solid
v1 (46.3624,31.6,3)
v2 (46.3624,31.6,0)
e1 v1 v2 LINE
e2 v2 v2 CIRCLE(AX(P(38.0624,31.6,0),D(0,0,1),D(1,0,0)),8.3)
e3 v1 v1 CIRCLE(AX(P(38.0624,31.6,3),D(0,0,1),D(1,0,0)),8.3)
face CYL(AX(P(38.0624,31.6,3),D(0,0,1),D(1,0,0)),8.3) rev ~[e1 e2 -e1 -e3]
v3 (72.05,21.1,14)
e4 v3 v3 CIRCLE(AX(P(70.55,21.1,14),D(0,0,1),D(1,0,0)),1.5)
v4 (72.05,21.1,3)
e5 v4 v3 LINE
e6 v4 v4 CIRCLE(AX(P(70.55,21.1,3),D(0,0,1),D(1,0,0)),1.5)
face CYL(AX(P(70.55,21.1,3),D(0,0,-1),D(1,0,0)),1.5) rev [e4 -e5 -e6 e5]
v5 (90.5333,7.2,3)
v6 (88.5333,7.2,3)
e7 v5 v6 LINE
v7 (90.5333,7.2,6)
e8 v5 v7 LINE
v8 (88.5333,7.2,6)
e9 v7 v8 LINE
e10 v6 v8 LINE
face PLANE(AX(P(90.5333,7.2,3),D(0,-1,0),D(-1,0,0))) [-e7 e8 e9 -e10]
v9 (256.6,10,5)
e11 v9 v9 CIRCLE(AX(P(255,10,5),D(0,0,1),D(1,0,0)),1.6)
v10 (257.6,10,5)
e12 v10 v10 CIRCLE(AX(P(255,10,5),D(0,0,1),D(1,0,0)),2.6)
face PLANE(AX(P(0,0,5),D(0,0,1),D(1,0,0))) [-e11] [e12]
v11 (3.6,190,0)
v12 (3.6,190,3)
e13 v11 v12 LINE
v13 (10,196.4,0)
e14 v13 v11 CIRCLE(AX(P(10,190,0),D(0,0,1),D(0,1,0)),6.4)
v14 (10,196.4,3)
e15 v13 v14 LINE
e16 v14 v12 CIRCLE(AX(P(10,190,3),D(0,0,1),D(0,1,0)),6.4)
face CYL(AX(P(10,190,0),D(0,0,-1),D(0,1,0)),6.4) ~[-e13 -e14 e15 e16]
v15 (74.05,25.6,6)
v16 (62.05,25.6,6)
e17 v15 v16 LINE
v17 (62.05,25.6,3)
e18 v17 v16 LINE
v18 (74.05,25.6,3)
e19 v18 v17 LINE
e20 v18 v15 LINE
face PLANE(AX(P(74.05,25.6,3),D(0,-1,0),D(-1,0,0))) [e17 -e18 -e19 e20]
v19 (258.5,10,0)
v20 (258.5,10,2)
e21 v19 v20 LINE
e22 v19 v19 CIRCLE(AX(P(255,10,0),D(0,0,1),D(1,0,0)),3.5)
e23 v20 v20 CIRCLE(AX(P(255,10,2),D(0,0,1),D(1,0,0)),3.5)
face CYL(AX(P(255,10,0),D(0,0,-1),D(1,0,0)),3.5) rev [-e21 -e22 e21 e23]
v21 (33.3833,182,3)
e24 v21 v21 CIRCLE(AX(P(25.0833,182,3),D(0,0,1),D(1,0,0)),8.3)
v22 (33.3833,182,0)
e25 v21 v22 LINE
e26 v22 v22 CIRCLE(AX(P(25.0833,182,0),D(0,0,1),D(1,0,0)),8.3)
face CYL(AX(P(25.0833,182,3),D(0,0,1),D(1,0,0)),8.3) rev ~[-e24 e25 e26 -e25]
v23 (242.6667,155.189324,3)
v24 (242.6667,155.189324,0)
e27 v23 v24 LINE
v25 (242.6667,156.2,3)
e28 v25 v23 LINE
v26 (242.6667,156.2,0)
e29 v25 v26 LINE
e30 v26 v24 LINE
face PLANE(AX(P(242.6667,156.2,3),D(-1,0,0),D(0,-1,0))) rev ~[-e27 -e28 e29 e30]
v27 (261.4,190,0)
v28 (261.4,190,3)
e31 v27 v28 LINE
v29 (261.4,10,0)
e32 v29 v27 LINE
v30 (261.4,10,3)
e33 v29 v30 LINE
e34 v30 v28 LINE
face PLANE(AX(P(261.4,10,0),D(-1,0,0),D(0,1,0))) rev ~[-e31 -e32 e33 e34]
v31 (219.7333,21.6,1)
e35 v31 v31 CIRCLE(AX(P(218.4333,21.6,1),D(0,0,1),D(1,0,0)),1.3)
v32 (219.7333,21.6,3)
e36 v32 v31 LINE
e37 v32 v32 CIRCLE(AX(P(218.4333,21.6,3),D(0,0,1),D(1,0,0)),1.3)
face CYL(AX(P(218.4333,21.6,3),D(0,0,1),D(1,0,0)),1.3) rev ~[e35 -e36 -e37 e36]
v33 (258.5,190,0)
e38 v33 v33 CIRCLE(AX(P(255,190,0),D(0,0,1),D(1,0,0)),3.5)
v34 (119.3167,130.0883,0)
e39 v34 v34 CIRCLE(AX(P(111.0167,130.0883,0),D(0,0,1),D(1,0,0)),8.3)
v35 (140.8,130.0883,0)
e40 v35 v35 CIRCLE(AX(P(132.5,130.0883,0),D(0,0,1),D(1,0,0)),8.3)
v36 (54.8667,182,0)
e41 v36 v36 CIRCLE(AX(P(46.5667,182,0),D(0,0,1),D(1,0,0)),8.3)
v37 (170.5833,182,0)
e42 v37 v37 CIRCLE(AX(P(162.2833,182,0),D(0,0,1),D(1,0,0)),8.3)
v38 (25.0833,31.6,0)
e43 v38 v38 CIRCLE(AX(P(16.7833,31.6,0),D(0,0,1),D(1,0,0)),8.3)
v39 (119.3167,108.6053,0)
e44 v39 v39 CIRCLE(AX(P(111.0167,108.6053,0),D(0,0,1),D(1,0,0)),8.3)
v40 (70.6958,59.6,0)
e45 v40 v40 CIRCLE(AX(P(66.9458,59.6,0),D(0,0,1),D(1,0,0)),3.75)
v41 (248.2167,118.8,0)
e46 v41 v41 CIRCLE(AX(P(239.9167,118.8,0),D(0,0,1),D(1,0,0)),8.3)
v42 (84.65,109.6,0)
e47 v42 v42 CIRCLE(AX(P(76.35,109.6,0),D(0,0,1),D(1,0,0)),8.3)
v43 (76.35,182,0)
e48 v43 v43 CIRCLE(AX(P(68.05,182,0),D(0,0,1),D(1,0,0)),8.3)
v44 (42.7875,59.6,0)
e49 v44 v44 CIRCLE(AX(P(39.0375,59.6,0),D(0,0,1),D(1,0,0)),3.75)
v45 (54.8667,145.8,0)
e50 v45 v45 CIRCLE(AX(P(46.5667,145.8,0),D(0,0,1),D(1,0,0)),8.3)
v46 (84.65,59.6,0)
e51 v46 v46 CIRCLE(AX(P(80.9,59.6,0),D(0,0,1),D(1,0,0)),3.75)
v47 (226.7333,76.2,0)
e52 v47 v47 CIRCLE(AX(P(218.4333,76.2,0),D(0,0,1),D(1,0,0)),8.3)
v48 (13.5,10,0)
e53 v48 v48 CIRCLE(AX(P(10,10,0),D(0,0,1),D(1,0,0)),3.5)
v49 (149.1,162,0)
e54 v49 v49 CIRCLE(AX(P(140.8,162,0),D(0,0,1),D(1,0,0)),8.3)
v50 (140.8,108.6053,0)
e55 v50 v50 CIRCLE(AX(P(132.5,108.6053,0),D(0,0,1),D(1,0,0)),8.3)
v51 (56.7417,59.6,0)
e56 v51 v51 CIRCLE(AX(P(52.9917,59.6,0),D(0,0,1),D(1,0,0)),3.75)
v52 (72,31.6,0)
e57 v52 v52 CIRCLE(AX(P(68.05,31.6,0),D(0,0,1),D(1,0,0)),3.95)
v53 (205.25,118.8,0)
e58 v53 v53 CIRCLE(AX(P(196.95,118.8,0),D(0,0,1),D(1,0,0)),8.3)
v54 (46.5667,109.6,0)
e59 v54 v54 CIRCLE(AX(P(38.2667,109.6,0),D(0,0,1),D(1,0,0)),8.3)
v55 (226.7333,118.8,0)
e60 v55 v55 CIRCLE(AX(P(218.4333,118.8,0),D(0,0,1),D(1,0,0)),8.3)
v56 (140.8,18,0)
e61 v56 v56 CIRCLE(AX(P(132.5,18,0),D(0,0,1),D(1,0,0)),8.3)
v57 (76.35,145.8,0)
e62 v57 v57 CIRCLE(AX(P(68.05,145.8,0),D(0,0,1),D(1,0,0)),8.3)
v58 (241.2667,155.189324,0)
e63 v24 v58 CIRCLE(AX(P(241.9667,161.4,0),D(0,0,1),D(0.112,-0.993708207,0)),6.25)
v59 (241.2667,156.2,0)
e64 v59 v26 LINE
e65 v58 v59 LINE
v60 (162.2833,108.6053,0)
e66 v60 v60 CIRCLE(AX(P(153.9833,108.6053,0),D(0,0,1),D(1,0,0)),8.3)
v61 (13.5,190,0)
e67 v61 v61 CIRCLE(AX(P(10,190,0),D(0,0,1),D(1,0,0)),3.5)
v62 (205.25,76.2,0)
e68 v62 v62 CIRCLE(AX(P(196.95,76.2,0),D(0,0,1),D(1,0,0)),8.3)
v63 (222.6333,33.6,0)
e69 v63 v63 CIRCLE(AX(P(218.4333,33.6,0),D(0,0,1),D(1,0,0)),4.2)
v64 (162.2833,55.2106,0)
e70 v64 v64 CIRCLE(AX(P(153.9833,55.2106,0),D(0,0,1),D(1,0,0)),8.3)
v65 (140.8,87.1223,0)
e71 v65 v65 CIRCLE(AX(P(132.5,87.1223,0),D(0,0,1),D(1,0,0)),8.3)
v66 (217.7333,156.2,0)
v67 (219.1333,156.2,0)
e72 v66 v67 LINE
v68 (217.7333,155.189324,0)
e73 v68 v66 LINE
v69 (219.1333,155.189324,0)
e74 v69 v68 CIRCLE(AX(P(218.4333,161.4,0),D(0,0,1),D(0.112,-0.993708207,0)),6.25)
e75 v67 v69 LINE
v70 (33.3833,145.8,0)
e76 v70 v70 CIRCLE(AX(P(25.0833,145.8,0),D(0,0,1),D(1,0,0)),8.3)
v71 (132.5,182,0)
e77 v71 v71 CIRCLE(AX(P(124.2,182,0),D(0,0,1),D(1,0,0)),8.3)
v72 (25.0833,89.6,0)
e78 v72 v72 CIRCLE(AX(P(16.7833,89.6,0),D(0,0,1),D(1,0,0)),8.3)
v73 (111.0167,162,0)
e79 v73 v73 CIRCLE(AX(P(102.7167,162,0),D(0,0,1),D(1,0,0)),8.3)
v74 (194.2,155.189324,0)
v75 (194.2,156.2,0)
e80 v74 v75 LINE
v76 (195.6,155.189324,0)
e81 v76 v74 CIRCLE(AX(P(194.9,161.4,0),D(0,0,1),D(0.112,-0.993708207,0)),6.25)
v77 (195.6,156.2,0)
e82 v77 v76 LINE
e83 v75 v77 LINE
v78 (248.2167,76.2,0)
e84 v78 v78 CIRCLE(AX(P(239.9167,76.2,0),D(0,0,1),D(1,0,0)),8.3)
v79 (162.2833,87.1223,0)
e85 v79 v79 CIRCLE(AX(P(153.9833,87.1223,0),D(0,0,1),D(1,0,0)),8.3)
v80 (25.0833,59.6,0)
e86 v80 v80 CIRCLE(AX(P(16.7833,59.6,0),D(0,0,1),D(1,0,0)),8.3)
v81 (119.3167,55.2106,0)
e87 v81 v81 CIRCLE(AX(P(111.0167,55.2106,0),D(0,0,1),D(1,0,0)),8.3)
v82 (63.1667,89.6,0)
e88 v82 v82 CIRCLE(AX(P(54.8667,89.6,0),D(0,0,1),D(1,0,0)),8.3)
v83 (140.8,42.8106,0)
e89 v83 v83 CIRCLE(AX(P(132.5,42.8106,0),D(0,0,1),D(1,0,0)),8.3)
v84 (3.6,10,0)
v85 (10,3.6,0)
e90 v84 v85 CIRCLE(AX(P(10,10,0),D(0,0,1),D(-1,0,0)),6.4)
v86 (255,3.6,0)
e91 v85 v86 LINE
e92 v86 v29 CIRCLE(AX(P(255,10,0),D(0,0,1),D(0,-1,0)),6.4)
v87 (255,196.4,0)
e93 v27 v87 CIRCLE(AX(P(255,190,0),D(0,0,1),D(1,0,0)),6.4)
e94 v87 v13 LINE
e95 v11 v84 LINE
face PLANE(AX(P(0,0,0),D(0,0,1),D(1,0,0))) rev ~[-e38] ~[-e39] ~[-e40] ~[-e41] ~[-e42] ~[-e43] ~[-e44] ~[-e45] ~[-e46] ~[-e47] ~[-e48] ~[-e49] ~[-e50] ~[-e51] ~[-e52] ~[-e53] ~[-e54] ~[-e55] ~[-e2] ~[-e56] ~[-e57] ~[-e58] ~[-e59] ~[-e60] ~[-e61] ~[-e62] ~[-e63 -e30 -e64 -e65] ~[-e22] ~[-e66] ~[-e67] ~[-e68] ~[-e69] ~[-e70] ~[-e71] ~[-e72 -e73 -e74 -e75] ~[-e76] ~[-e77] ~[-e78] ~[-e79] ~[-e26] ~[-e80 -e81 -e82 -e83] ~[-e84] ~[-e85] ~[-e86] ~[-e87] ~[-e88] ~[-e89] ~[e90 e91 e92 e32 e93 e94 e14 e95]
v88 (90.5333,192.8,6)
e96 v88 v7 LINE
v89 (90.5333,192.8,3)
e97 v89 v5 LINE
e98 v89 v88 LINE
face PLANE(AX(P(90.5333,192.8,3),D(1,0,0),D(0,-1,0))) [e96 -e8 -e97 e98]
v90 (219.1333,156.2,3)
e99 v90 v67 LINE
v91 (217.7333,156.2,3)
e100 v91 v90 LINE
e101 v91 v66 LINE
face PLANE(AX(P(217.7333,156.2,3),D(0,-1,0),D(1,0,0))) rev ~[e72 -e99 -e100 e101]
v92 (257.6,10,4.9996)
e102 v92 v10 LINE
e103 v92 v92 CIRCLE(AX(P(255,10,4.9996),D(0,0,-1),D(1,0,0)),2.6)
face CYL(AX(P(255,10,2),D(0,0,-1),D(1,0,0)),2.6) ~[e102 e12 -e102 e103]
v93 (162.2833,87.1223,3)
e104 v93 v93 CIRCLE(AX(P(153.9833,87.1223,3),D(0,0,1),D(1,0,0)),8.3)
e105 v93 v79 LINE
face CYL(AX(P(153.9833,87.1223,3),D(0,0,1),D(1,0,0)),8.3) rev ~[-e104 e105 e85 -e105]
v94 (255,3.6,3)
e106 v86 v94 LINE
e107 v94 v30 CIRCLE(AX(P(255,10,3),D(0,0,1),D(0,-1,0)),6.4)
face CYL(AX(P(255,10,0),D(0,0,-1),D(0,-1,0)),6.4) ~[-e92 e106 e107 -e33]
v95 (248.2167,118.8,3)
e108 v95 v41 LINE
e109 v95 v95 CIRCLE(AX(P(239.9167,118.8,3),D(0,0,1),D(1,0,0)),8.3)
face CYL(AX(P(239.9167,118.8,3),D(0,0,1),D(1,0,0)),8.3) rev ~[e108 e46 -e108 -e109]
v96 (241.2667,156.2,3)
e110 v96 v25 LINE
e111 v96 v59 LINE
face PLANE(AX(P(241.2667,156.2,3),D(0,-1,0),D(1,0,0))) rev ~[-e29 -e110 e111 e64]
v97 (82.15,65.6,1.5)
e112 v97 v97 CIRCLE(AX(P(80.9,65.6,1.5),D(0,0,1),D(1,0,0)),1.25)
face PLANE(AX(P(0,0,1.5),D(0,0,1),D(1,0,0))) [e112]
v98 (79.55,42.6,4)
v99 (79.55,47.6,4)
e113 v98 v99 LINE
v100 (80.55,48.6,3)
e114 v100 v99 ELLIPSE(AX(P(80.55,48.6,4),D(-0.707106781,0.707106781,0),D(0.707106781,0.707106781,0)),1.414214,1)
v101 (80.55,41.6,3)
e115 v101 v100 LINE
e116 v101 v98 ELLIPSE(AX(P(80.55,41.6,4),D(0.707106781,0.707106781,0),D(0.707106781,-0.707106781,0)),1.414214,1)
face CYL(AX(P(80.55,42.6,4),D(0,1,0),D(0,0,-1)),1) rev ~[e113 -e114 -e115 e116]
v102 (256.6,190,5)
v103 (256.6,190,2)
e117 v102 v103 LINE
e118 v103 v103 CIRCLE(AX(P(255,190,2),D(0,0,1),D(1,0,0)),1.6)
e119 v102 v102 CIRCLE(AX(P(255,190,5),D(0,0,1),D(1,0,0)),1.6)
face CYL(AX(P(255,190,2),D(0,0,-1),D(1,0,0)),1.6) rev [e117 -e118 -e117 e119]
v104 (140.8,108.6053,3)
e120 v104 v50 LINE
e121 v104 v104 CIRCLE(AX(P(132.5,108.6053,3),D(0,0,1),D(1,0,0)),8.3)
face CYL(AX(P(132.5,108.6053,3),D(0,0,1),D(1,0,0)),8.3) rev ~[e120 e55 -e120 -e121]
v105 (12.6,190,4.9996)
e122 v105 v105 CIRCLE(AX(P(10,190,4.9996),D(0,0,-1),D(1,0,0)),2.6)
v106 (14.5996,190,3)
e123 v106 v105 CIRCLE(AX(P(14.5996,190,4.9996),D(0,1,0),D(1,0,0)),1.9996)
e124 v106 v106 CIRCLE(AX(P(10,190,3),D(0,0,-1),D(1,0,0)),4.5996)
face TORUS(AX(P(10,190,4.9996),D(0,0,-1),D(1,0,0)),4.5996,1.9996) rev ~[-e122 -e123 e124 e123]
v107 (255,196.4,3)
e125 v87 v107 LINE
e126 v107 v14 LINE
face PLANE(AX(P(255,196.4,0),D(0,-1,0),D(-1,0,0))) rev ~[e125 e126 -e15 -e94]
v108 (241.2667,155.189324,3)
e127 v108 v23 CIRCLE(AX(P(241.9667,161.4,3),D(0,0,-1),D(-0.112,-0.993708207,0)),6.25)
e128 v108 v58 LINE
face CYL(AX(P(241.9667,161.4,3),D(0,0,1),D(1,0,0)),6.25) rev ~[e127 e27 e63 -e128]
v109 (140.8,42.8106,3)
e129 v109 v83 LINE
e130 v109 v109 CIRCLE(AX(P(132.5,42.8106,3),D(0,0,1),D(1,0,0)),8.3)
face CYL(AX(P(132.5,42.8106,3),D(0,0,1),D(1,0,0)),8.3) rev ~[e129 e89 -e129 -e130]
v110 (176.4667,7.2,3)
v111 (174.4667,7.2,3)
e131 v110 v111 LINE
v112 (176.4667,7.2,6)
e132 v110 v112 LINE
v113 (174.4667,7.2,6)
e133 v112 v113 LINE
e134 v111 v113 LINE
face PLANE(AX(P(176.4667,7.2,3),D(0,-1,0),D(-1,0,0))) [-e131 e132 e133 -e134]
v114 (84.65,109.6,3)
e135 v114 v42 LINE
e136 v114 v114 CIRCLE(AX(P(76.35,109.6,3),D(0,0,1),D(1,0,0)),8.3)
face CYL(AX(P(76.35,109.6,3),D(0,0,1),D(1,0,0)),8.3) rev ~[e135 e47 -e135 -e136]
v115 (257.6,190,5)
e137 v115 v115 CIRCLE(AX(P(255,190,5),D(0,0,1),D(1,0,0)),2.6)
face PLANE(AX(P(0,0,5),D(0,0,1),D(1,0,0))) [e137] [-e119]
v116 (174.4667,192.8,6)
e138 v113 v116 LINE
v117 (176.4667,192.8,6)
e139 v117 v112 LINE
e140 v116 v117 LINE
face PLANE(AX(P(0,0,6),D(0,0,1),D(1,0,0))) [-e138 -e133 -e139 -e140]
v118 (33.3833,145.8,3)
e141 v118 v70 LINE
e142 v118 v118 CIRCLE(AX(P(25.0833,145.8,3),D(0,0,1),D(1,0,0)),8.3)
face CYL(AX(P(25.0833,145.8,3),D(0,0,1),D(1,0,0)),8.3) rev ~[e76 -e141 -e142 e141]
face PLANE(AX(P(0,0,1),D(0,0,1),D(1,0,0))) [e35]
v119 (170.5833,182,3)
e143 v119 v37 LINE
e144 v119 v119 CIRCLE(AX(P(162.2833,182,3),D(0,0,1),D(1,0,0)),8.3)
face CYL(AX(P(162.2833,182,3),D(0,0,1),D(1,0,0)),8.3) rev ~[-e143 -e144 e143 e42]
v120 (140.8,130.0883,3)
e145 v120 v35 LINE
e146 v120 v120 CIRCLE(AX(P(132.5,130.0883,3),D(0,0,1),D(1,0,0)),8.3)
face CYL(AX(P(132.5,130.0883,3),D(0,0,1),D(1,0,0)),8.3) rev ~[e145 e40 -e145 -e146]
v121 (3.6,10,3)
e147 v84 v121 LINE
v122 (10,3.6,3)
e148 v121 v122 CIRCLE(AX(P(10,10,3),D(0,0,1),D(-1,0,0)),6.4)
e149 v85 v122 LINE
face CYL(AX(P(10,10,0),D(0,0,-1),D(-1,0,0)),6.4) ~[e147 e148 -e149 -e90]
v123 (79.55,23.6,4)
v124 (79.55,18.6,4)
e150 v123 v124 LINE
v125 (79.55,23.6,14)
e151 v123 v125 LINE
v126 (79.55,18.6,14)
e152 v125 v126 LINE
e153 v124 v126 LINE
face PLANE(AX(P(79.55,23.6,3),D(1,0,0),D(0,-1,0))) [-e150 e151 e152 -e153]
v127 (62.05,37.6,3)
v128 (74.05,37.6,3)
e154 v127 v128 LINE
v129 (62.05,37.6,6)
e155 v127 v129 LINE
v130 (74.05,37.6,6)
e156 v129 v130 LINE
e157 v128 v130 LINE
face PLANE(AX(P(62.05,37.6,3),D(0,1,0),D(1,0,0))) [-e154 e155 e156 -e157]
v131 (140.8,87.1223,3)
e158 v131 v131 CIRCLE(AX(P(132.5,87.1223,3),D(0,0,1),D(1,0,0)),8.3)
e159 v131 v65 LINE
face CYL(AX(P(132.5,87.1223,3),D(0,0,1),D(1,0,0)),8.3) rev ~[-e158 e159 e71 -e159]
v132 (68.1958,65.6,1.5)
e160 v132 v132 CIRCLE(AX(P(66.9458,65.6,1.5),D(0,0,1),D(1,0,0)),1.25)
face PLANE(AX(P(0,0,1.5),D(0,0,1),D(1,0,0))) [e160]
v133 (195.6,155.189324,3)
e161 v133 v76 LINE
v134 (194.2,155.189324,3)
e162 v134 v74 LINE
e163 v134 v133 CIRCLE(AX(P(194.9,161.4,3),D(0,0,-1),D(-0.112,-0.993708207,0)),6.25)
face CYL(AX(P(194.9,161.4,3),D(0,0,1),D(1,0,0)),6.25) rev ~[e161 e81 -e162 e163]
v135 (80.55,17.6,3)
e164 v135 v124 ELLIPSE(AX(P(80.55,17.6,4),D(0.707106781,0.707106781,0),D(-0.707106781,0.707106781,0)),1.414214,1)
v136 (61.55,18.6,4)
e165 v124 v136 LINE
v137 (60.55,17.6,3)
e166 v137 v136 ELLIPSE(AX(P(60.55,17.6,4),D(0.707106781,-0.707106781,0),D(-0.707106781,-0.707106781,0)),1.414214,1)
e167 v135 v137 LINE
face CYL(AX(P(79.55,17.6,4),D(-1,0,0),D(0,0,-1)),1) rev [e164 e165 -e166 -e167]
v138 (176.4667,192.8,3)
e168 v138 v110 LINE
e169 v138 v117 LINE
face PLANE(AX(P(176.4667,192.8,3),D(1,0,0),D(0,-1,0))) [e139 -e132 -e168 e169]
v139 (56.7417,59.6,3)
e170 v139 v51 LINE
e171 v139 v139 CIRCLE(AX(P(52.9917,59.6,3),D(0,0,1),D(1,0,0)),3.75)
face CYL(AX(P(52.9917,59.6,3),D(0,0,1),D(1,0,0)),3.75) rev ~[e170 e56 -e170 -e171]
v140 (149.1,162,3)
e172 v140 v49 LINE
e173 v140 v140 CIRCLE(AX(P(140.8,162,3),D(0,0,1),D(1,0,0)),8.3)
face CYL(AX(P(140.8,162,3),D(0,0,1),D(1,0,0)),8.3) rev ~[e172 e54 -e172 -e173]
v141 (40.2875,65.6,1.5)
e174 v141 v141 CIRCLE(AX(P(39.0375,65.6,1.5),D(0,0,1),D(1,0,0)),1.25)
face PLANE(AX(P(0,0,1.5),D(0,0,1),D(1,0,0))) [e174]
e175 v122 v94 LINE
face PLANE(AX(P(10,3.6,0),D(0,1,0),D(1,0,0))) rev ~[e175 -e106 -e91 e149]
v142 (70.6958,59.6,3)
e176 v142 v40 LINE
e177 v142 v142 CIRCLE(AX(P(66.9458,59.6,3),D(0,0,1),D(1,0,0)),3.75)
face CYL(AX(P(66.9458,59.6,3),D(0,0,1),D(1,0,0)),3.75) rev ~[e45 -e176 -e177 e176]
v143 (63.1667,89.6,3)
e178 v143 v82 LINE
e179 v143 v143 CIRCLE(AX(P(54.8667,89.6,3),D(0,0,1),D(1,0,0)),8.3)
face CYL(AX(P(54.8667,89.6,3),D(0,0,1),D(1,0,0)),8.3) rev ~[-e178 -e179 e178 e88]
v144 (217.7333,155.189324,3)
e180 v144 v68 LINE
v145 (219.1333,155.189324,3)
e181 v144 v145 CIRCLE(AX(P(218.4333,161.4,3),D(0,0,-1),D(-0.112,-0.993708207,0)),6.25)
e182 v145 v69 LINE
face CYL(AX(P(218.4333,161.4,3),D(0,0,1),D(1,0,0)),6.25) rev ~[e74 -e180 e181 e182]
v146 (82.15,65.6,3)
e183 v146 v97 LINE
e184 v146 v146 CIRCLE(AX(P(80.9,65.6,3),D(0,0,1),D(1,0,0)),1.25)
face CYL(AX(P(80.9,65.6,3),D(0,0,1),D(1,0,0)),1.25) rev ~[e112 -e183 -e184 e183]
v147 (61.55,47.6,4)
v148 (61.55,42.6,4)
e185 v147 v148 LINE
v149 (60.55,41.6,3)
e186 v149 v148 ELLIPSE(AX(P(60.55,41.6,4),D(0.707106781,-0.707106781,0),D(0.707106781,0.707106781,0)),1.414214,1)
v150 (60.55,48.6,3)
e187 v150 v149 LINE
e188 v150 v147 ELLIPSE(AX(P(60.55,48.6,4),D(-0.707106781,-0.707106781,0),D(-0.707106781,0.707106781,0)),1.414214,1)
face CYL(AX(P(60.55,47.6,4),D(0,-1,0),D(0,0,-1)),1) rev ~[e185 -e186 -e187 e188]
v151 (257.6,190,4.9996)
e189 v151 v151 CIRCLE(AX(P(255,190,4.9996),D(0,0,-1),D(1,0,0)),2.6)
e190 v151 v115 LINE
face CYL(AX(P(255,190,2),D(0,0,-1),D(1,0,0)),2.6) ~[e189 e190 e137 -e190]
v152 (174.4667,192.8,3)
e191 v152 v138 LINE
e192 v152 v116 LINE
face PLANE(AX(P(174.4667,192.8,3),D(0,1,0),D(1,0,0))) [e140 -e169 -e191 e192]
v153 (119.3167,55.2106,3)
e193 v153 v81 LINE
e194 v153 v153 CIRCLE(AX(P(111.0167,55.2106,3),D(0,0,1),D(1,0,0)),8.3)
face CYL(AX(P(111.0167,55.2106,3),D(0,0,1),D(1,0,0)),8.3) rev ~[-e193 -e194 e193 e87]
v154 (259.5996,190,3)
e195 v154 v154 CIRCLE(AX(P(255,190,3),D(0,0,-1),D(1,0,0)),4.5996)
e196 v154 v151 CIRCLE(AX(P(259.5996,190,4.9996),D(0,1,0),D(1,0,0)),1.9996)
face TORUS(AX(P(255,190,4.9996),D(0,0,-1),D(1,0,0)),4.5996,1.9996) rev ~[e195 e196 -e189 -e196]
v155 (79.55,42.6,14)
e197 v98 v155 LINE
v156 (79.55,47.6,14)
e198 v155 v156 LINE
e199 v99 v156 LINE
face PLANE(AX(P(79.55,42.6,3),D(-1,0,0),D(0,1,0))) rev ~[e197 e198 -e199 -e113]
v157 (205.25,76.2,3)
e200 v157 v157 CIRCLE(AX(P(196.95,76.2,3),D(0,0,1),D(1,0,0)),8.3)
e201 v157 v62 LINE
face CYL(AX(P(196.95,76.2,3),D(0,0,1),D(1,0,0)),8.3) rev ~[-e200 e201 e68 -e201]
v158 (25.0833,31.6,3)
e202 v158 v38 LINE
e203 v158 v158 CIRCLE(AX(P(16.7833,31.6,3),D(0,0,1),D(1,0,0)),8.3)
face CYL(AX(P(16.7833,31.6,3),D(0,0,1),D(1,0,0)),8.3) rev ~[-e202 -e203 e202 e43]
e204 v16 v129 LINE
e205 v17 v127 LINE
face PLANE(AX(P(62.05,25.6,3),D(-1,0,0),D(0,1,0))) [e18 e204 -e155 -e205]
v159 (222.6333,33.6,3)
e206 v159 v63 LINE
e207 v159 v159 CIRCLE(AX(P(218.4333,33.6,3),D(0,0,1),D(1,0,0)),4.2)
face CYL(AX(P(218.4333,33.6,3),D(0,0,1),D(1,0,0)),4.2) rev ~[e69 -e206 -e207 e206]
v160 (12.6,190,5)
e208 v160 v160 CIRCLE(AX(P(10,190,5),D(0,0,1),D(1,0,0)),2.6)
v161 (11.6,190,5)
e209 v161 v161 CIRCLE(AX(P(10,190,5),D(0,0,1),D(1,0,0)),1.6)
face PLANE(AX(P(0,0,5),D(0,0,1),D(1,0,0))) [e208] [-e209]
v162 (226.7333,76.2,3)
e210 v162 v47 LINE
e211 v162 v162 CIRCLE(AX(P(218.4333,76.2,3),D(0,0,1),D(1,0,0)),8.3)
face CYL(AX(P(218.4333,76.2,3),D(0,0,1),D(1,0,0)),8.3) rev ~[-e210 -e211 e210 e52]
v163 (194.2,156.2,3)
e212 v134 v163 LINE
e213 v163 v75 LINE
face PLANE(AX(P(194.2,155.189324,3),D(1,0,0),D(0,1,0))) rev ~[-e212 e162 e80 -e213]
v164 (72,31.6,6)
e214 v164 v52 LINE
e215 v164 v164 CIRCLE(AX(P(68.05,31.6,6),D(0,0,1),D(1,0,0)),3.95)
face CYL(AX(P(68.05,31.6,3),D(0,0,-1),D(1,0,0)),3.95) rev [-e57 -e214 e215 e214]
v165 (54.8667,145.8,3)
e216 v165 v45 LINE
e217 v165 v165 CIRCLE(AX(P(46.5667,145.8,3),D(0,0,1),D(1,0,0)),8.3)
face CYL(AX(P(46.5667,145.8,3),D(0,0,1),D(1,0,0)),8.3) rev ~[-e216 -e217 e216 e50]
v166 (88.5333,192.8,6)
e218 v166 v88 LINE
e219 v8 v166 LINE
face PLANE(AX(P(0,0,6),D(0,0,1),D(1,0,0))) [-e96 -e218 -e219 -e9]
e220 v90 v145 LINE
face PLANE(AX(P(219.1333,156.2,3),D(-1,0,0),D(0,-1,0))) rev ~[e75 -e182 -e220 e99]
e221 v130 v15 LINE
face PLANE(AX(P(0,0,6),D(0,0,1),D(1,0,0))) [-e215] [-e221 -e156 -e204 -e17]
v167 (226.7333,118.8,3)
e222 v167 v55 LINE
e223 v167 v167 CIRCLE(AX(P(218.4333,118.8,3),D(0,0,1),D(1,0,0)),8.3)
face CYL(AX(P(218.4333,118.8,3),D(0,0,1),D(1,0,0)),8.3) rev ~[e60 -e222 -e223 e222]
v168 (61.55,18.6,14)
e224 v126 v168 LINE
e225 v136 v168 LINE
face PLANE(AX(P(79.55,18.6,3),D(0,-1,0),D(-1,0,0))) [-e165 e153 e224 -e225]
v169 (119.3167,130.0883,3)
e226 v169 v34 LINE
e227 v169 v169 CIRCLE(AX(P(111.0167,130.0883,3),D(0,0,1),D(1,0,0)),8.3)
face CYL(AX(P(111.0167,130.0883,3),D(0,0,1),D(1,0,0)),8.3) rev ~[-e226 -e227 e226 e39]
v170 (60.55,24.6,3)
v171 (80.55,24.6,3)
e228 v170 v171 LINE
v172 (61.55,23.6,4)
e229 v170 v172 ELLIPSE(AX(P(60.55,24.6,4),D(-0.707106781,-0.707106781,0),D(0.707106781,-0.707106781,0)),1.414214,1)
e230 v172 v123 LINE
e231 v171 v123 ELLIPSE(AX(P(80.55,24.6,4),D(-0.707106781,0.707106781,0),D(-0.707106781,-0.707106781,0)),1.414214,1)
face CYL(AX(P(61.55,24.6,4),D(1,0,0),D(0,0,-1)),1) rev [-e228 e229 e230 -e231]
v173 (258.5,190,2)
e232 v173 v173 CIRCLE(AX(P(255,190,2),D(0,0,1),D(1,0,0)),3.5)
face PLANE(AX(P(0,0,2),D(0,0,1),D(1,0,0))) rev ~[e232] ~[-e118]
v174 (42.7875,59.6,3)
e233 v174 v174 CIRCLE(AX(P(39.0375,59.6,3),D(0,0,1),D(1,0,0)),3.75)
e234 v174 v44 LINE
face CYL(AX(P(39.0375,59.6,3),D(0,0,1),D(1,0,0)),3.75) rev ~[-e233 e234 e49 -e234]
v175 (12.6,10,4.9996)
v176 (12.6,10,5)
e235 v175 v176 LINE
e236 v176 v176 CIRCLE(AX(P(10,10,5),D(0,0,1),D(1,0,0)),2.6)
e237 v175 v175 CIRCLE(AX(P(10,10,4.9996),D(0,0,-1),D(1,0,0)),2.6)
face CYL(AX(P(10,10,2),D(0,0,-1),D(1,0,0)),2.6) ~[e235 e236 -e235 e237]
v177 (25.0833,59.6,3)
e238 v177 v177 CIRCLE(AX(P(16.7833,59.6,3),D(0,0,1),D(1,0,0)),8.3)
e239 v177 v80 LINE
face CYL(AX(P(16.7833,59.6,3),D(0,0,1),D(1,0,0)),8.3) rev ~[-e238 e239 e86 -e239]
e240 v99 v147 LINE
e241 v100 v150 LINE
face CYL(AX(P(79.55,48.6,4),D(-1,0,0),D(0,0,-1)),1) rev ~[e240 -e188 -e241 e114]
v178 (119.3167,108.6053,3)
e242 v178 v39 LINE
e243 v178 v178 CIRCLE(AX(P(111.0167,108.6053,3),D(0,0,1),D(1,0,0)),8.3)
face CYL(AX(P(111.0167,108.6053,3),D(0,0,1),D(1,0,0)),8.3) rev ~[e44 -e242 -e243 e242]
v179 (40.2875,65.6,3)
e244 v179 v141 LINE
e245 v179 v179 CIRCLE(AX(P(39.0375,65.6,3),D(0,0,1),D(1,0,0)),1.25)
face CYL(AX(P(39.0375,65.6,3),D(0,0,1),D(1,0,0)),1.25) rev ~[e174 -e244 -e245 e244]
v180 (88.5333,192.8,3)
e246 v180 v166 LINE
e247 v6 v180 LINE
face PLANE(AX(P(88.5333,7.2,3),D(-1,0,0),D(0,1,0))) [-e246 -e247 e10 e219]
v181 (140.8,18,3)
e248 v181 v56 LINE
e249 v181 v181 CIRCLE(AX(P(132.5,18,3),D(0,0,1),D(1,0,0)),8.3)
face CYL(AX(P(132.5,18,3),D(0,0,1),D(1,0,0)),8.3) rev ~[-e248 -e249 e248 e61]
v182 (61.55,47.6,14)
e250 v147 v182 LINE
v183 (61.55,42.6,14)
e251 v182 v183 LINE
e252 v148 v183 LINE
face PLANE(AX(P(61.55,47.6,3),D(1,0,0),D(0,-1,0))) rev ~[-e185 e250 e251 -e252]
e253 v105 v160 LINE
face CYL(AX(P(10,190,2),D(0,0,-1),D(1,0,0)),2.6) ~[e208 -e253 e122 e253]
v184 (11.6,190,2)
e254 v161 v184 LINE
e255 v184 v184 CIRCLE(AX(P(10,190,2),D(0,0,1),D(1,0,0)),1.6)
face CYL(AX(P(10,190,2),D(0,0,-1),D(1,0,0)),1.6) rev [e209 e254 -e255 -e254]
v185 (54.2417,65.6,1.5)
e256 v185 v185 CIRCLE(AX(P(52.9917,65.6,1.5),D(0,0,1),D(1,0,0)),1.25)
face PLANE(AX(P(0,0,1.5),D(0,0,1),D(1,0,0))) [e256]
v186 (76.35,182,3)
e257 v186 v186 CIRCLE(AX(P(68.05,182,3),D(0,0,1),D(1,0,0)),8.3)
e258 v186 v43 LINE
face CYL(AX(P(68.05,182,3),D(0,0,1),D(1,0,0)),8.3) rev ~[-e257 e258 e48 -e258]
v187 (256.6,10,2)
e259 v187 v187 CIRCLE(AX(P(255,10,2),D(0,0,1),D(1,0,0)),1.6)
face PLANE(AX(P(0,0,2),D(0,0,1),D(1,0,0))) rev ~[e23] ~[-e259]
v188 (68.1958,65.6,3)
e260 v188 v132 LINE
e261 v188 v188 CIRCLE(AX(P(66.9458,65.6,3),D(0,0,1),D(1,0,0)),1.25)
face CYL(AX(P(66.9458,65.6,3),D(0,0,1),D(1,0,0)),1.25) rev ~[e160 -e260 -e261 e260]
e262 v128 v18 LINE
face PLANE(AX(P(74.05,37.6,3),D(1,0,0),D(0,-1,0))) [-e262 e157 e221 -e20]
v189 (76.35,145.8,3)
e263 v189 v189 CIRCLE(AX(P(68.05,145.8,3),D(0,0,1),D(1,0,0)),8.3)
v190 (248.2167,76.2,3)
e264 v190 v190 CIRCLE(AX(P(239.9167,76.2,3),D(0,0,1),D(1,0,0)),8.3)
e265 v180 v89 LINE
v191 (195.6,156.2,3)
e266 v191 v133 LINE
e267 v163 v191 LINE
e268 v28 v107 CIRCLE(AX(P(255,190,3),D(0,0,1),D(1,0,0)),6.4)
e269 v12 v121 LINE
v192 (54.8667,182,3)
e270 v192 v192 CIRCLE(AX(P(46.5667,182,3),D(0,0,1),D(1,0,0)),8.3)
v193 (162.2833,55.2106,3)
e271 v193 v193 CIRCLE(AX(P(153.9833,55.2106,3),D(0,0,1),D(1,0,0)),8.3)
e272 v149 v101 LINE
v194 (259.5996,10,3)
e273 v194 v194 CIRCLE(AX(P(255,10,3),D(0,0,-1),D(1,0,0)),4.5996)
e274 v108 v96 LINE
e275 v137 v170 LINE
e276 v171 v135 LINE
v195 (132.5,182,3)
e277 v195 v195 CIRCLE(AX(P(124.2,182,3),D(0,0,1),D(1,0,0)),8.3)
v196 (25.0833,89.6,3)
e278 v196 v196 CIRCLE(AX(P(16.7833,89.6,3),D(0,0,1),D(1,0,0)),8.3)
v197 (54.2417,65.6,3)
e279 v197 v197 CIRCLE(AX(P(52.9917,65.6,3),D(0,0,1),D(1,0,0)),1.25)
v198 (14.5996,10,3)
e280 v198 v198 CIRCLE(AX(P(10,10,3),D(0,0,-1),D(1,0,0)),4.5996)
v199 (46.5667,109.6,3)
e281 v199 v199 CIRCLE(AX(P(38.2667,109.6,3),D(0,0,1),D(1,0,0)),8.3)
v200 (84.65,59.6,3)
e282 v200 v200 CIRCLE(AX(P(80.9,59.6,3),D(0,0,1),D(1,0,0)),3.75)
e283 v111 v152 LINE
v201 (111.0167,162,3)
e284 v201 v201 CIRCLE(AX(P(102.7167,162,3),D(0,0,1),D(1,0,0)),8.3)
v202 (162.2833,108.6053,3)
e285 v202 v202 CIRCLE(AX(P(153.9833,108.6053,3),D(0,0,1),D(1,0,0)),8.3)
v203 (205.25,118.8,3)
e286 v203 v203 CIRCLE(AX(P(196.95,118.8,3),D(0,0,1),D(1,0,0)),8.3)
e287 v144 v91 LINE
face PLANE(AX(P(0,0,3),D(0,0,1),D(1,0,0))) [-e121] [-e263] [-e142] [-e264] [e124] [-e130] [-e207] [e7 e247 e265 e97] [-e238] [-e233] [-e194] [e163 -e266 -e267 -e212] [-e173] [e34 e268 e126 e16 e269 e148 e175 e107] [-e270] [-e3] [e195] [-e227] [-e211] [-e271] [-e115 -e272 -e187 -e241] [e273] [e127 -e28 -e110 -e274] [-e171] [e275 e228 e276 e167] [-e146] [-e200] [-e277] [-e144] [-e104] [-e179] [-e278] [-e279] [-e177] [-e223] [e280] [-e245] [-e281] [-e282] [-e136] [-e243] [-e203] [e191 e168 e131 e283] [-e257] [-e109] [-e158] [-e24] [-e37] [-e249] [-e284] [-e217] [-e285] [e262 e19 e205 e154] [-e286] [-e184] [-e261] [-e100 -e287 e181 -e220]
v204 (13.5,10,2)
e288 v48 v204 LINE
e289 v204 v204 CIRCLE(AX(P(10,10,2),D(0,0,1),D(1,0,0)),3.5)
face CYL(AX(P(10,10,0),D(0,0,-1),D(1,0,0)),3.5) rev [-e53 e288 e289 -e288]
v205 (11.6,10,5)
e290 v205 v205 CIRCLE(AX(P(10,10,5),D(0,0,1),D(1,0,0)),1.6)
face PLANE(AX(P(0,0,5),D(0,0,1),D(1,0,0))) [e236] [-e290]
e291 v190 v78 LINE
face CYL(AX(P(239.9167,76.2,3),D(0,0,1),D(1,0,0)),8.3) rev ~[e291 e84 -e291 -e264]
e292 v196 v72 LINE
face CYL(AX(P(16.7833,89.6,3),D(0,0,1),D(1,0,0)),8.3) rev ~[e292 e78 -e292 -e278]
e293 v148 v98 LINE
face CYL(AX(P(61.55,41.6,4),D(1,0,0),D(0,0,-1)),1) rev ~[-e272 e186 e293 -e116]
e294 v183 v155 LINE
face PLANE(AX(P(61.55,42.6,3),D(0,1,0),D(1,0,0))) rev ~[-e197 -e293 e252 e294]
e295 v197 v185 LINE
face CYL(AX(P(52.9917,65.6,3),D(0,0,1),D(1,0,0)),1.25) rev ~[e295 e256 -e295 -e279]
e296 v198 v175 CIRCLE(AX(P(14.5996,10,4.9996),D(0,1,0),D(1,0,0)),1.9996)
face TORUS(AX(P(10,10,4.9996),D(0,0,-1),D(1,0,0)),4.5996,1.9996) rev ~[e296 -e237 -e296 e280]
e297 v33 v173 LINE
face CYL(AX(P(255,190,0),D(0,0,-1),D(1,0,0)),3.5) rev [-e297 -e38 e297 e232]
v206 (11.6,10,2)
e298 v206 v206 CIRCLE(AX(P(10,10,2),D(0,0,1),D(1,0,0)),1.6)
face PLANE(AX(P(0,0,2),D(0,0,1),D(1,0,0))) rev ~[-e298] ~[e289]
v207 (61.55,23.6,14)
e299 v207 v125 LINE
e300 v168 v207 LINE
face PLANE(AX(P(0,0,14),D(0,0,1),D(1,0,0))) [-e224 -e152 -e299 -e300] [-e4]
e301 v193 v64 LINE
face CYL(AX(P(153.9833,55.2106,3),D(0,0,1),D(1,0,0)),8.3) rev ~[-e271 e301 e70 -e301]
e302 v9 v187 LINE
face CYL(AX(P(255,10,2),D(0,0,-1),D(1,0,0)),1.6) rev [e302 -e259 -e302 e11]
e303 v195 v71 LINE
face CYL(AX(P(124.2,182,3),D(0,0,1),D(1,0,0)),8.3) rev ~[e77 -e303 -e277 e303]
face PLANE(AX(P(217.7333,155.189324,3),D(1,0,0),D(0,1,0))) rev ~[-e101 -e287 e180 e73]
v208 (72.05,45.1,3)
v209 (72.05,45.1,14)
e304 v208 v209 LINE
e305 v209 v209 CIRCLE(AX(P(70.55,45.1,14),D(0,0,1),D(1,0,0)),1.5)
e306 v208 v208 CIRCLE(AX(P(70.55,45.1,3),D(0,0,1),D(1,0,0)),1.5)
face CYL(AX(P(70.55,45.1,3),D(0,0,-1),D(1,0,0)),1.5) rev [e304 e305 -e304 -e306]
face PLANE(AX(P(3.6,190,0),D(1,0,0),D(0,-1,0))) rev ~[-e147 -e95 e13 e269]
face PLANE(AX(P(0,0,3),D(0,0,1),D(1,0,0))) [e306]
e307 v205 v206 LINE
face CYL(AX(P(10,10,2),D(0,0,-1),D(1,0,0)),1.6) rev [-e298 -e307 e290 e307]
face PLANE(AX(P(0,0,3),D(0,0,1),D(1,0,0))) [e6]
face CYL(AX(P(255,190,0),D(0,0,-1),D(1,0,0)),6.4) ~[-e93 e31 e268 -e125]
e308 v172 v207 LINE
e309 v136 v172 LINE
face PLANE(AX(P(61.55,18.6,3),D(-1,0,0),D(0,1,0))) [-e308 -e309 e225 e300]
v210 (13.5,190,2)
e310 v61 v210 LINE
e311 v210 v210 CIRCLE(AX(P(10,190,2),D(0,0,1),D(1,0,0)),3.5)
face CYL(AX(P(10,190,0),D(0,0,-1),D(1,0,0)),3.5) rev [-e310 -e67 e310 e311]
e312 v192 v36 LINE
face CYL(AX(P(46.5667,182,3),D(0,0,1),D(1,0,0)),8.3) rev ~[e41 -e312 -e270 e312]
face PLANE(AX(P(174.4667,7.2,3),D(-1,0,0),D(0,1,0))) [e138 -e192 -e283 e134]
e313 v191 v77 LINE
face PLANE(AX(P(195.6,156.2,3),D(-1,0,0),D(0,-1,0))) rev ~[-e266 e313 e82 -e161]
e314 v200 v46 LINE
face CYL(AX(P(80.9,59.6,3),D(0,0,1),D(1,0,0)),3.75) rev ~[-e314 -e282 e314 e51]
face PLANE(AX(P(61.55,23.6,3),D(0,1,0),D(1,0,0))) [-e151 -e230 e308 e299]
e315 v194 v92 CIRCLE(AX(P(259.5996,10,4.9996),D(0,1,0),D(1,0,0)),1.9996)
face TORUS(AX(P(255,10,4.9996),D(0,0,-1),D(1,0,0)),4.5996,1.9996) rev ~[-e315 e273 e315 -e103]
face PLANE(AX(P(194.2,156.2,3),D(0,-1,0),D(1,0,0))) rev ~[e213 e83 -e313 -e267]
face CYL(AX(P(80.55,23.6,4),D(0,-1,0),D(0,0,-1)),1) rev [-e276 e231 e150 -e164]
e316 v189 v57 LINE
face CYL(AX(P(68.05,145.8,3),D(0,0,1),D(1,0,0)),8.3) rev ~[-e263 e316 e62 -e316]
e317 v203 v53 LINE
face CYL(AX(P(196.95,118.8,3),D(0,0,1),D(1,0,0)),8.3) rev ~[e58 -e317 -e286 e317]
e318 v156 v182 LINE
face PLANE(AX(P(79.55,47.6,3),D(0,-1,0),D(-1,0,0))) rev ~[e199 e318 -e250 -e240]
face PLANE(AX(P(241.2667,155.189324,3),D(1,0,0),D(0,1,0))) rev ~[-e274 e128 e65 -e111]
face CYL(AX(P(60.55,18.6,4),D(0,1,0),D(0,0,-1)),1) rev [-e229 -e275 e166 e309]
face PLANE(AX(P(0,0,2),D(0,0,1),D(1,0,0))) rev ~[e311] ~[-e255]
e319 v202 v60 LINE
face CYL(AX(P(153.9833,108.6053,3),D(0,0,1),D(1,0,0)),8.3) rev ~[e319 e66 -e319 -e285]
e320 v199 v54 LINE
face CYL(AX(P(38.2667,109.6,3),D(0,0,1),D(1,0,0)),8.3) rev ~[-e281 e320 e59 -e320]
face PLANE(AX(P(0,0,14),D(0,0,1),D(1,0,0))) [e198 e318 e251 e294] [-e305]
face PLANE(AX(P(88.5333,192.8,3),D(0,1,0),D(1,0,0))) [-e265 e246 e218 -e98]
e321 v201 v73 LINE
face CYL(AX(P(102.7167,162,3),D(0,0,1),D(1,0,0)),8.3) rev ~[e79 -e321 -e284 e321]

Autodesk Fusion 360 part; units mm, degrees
sketch "Esquisse1" plane through (0, 0, 0) normal (0, 0, 1) x (1, 0, 0)
  line L0 (10, 0) -> (255, 0)
  line L1 (265, 10) -> (265, 190)
  line L2 (255, 200) -> (10, 200)
  line L3 (0, 190) -> (0, 10)
  arc A0 (10, 200) -> (0, 190) centre (10, 190) ccw
  arc A1 (265, 190) -> (255, 200) centre (255, 190) ccw
  arc A2 (255, 0) -> (265, 10) centre (255, 10) ccw
  arc A3 (0, 10) -> (10, 0) centre (10, 10) ccw
  line L4 (3.6, 190) -> (3.6, 10)
  arc A4 (3.6, 10) -> (10, 3.6) centre (10, 10) ccw
  line L5 (10, 3.6) -> (255, 3.6)
  arc A5 (255, 3.6) -> (261.4, 10) centre (255, 10) ccw
  line L6 (261.4, 10) -> (261.4, 190)
  arc A6 (261.4, 190) -> (255, 196.4) centre (255, 190) ccw
  line L7 (255, 196.4) -> (10, 196.4)
  arc A7 (10, 196.4) -> (3.6, 190) centre (10, 190) ccw
  circle A8 centre (10, 190) radius 1.6
  circle A9 centre (10, 190) radius 2.6
  circle A10 centre (10, 190) radius 3.5
  circle A11 centre (255, 190) radius 1.6
  circle A12 centre (255, 190) radius 2.6
  circle A13 centre (255, 190) radius 3.5
  circle A14 centre (10, 10) radius 1.6
  circle A15 centre (10, 10) radius 2.6
  circle A16 centre (10, 10) radius 3.5
  circle A17 centre (255, 10) radius 1.6
  circle A18 centre (255, 10) radius 2.6
  circle A19 centre (255, 10) radius 3.5
  point P0 (265, 0)
  point P1 (0, 200)
  dimension "d1" = 265
  dimension "d2" = 200
  dimension "d3" = 10
  dimension "d4" = -3.6
  dimension "d5" = 3.2
  dimension "d6" = 5.2
  dimension "d7" = 7
  dimension "d10" = 245
  dimension "d11" = -180
extrude "Extrusion1" add sketch "Esquisse1" along normal blind 3 contours L4 A4 L5 A5 L6 A6 L7 A7
extrude "Extrusion2" add sketch "Esquisse1" along normal blind 3 and the other way blind -2 contours A9 | A10 | A12 | A13 | A15 | A16 | A18 | A19
extrude "Extrusion3" add sketch "Esquisse1" along normal blind 5 and the other way blind -2 contours A9 | A12 | A15 | A18
fillet "Congé1" radius 2 4 edges at (252.5759, 10.9402, 3) (7.5759, 10.9402, 3) (7.5759, 190.9402, 3) (252.5759, 190.9402, 3)
sketch "Esquisse2" plane through (0, 0, 3) normal (0, 0, 1) x (1, 0, 0)
  circle A0 centre (10, 190) radius 4.6
  circle A1 centre (255, 10) radius 4.6
  arc A2 (10, 196.4) -> (3.6, 190) centre (10, 190) ccw
  line L0 (3.6, 190) -> (3.6, 10)
  arc A3 (3.6, 10) -> (10, 3.6) centre (10, 10) ccw
  line L1 (10, 3.6) -> (255, 3.6)
  arc A4 (255, 3.6) -> (261.4, 10) centre (255, 10) ccw
  line L2 (261.4, 10) -> (261.4, 190)
  arc A5 (261.4, 190) -> (255, 196.4) centre (255, 190) ccw
  line L3 (255, 196.4) -> (10, 196.4)
  circle A6 centre (10, 10) radius 4.6
  circle A7 centre (255, 190) radius 4.6
  line L4 (89.5333, 196.4) -> (89.5333, 3.6) construction
  line L5 (175.4667, 196.4) -> (175.4667, 3.6) construction
  line L6 (175.4667, 33.6) -> (261.4, 33.6) construction
  line L7 (175.4667, 76.2) -> (261.4, 76.2) construction
  line L8 (175.4667, 118.8) -> (261.4, 118.8) construction
  line L9 (175.4667, 161.4) -> (261.4, 161.4) construction
  line L10 (196.95, 196.4) -> (196.95, 3.6) construction
  line L11 (218.4333, 196.4) -> (218.4333, 3.6) construction
  line L12 (239.9167, 196.4) -> (239.9167, 3.6) construction
  circle A8 centre (218.4333, 33.6) radius 4.2
  circle A9 centre (196.95, 76.2) radius 8.3
  circle A10 centre (218.4333, 76.2) radius 8.3
  circle A11 centre (239.9167, 76.2) radius 8.3
  circle A12 centre (196.95, 118.8) radius 8.3
  circle A13 centre (218.4333, 118.8) radius 8.3
  circle A14 centre (239.9167, 118.8) radius 8.3
  line L13 (188.65, 100) -> (188.65, 105) construction
  line L14 (188.65, 105) -> (188.65, 196.4) construction
  line L15 (248.2167, 100) -> (248.2167, 196.4) construction
  circle A15 centre (218.4333, 161.4) radius 6.25
  circle A16 centre (194.9, 161.4) radius 6.25
  circle A17 centre (241.9667, 161.4) radius 6.25
  line L16 (89.5333, 18) -> (175.4667, 18) construction
  line L17 (89.5333, 55.2106) -> (175.4667, 55.2106) construction
  line L18 (111.0167, 196.4) -> (111.0167, 3.6) construction
  line L19 (132.5, 196.4) -> (132.5, 3.6) construction
  line L20 (153.9833, 196.4) -> (153.9833, 3.6) construction
  circle A18 centre (111.0167, 55.2106) radius 8.3
  circle A19 centre (153.9833, 55.2106) radius 8.3
  circle A20 centre (132.5, 18) radius 8.3
  circle A21 centre (132.5, 42.8106) radius 8.3
  line L21 (89.5333, 108.6053) -> (175.4667, 108.6053) construction
  line L22 (89.5333, 87.1223) -> (175.4667, 87.1223) construction
  line L23 (89.5333, 130.0883) -> (175.4667, 130.0883) construction
  circle A22 centre (132.5, 108.6053) radius 8.3
  circle A23 centre (153.9833, 108.6053) radius 8.3
  circle A24 centre (111.0167, 108.6053) radius 8.3
  circle A25 centre (132.5, 130.0883) radius 8.3
  circle A26 centre (111.0167, 130.0883) radius 8.3
  circle A27 centre (132.5, 87.1223) radius 8.3
  circle A28 centre (153.9833, 87.1223) radius 8.3
  line L24 (89.5333, 182) -> (175.4667, 182) construction
  line L25 (89.5333, 162) -> (175.4667, 162) construction
  circle A29 centre (162.2833, 182) radius 8.3
  circle A30 centre (140.8, 162) radius 8.3
  circle A31 centre (124.2, 182) radius 8.3
  circle A32 centre (102.7167, 162) radius 8.3
  line L26 (68.05, 196.4) -> (68.05, 3.6) construction
  line L27 (46.5667, 196.4) -> (46.5667, 3.6) construction
  line L28 (25.0833, 196.4) -> (25.0833, 3.6) construction
  line L29 (89.5333, 182) -> (3.6, 182) construction
  line L30 (89.5333, 145.8) -> (3.6, 145.8) construction
  line L31 (89.5333, 109.6) -> (3.6, 109.6) construction
  line L32 (89.5333, 89.6) -> (3.6, 89.6) construction
  line L33 (89.5333, 59.6) -> (3.6, 59.6) construction
  line L34 (89.5333, 31.6) -> (3.6, 31.6) construction
  circle A33 centre (25.0833, 182) radius 8.3
  circle A34 centre (46.5667, 182) radius 8.3
  circle A35 centre (68.05, 182) radius 8.3
  circle A36 centre (25.0833, 145.8) radius 8.3
  circle A37 centre (46.5667, 145.8) radius 8.3
  circle A38 centre (68.05, 145.8) radius 8.3
  circle A39 centre (76.35, 109.6) radius 8.3
  circle A40 centre (38.2667, 109.6) radius 8.3
  circle A41 centre (54.8667, 89.6) radius 8.3
  circle A42 centre (16.7833, 89.6) radius 8.3
  line L35 (16.7833, 108.886) -> (16.7833, 3.6) construction
  circle A43 centre (16.7833, 59.6) radius 8.3
  circle A44 centre (16.7833, 31.6) radius 8.3
  line L36 (39.0375, 69) -> (39.0375, 49) construction
  line L37 (52.9917, 69) -> (52.9917, 49) construction
  line L38 (66.9458, 69) -> (66.9458, 49) construction
  line L39 (80.9, 69) -> (80.9, 48.7369) construction
  circle A45 centre (39.0375, 59.6) radius 3.75
  circle A46 centre (52.9917, 59.6) radius 3.75
  circle A47 centre (66.9458, 59.6) radius 3.75
  circle A48 centre (80.9, 59.6) radius 3.75
  line L40 (84.65, 126.0158) -> (84.65, 39.0422) construction
  line L41 (194.9, 171) -> (194.9, 151) construction
  line L42 (241.9667, 172) -> (241.9667, 151) construction
  line L43 (194.2, 156.2) -> (195.6, 156.2)
  line L44 (195.6, 156.2) -> (195.6, 155.15)
  line L45 (195.6, 155.15) -> (194.2, 155.15)
  line L46 (194.2, 155.15) -> (194.2, 156.2)
  line L47 (217.7333, 156.2) -> (219.1333, 156.2)
  line L48 (219.1333, 156.2) -> (219.1333, 155.15)
  line L49 (219.1333, 155.15) -> (217.7333, 155.15)
  line L50 (217.7333, 155.15) -> (217.7333, 156.2)
  line L51 (241.2667, 156.2) -> (242.6667, 156.2)
  line L52 (242.6667, 156.2) -> (242.6667, 155.15)
  line L53 (242.6667, 155.15) -> (241.2667, 155.15)
  line L54 (241.2667, 155.15) -> (241.2667, 156.2)
  circle A49 centre (218.4333, 21.6) radius 1.3
  line L55 (87, 65.6) -> (36, 65.6) construction
  circle A50 centre (39.0375, 65.6) radius 1.25
  circle A51 centre (52.9917, 65.6) radius 1.25
  circle A52 centre (66.9458, 65.6) radius 1.25
  circle A53 centre (80.9, 65.6) radius 1.25
  circle A54 centre (68.05, 31.6) radius 3.95
  line L56 (38.0624, 123.6693) -> (38.0624, 15) construction
  circle A55 centre (38.0624, 31.6) radius 8.3
  line L57 (88.5333, 192.8) -> (90.5333, 192.8)
  line L58 (90.5333, 192.8) -> (90.5333, 7.2)
  line L59 (90.5333, 7.2) -> (88.5333, 7.2)
  line L60 (88.5333, 7.2) -> (88.5333, 192.8)
  line L61 (174.4667, 192.8) -> (176.4667, 192.8)
  line L62 (176.4667, 192.8) -> (176.4667, 7.2)
  line L63 (176.4667, 7.2) -> (174.4667, 7.2)
  line L64 (174.4667, 7.2) -> (174.4667, 192.8)
  line L65 (57.05, 42.6) -> (84.05, 42.6) construction
  line L66 (84.05, 42.6) -> (84.05, 23.6) construction
  line L67 (84.05, 23.6) -> (57.05, 23.6) construction
  line L68 (57.05, 23.6) -> (57.05, 42.6) construction
  line L69 (61.55, 42.6) -> (79.55, 42.6)
  line L70 (79.55, 42.6) -> (79.55, 47.6)
  line L71 (79.55, 47.6) -> (61.55, 47.6)
  line L72 (61.55, 47.6) -> (61.55, 42.6)
  line L73 (61.55, 23.6) -> (79.55, 23.6)
  line L74 (79.55, 23.6) -> (79.55, 18.6)
  line L75 (79.55, 18.6) -> (61.55, 18.6)
  line L76 (61.55, 18.6) -> (61.55, 23.6)
  line L77 (70.55, 23.6) -> (70.55, 47.6) construction
  line L78 (61.55, 45.1) -> (79.55, 45.1) construction
  line L79 (61.55, 21.1) -> (79.55, 21.1) construction
  circle A56 centre (70.55, 45.1) radius 1.5
  circle A57 centre (70.55, 21.1) radius 1.5
  line L80 (62.05, 37.6) -> (74.05, 37.6)
  line L81 (74.05, 37.6) -> (74.05, 25.6)
  line L82 (74.05, 25.6) -> (62.05, 25.6)
  line L83 (62.05, 25.6) -> (62.05, 37.6)
  dimension "d24" = 30
  dimension "d27" = 35
  dimension "d29" = 8.4
  dimension "d30" = 16.6
  dimension "d31" = 16.6
  dimension "d32" = 16.6
  dimension "d33" = 16.6
  dimension "d34" = 16.6
  dimension "d35" = 16.6
  dimension "d36" = 12.5
  dimension "d37" = 12.5
  dimension "d38" = 12.5
  dimension "d39" = 14.4
  dimension "d40" = 16.6
  dimension "d41" = 16.6
  dimension "d42" = 16.6
  dimension "d43" = 42.967
  dimension "d44" = 16.6
  dimension "d45" = 12.4
  dimension "d46" = 37.2106
  dimension "d47" = 16.6
  dimension "d48" = 16.6
  dimension "d49" = 16.6
  dimension "d50" = 16.6
  dimension "d51" = 16.6
  dimension "d52" = 16.6
  dimension "d53" = 16.6
  dimension "d54" = 21.483
  dimension "d55" = 21.667
  dimension "d56" = 21.4833
  dimension "d57" = 14.4
  dimension "d58" = 16.6
  dimension "d59" = 16.6
  dimension "d60" = 16.6
  dimension "d61" = 16.6
  dimension "d62" = 20
  dimension "d63" = 16.6
  dimension "d64" = 16.6
  dimension "d65" = 16.6
  dimension "d66" = 14.4
  dimension "d67" = 16.6
  dimension "d68" = 16.6
  dimension "d69" = 16.6
  dimension "d70" = 20
  dimension "d71" = 16.6
  dimension "d72" = 16.6
  dimension "d73" = 16.6
  dimension "d74" = 16.6
  dimension "d75" = 16.6
  dimension "d76" = 16.6
  dimension "d77" = 28
  dimension "d78" = 7.5
  dimension "d79" = 7.5
  dimension "d80" = 7.5
  dimension "d81" = 7.5
  dimension "d84" = 28
  dimension "d86" = 30
  dimension "d87" = 32.6492
  dimension "d88" = 1.4
  dimension "d89" = 1.4
  dimension "d90" = 1.4
  dimension "d91" = 5.2
  dimension "d92" = 5.2
  dimension "d93" = 5.2
  dimension "d94" = 2.6
  dimension "d95" = 12
  dimension "d96" = 2.5
  dimension "d97" = 2.5
  dimension "d98" = 2.5
  dimension "d99" = 2.5
  dimension "d100" = 6
  dimension "d101" = 7.9
  dimension "d102" = 16.6
  dimension "d110" = 2
  dimension "d111" = 2
  dimension "d114" = 3.6
  dimension "d115" = 3.6
  dimension "d116" = 3.6
  dimension "d117" = 3.6
  dimension "d126" = 19
  dimension "d127" = 27
  dimension "d128" = 11
  dimension "d129" = 8
  dimension "d130" = 18
  dimension "d131" = 18
  dimension "d132" = 5
  dimension "d133" = 5
  dimension "d134" = 3
  dimension "d135" = 3
  dimension "d136" = 12
  dimension "d137" = 12
extrude "Trous" cut sketch "Esquisse2" against normal blind 3 contours A8 | A9 | A10 | A11 | A12 | A13 | A14 | A15 L47 L48 L50 | A16 L43 L44 L46 | A17 L51 L52 L54 | A18 | A19 | A20 | A21 | A22 | A23 | A24 | A25 | A26 | A27 | A28 | A29 | A30 | A31 | A32 | A33 | A34 | A35 | A36 | A37 | A38 | A39 | A40 | A41 | A42 | A43 | A44 | A45 | A46 | A47 | A48 | A54 | A55 picked at (218.3053, 160.0127) picked at (194.7719, 160.0127) picked at (241.8386, 160.0127)
extrude "Extrusion5" cut sketch "Esquisse2" against normal blind 2 contours A49
extrude "Extrusion6" cut sketch "Esquisse2" against normal blind 1.5 contours A50 | A51 | A52 | A53
extrude "Extrusion8" add sketch "Esquisse2" along normal blind 3 contours L57 L58 L59 L60 | L61 L62 L63 L64
extrude "Extrusion9" add sketch "Esquisse2" along normal blind 3 contours L80 L81 L82 L83
extrude "Extrusion10" add sketch "Esquisse2" along normal blind 11 contours L69 L70 L71 L72 | L73 L74 L75 L76
fillet "Congé2" radius 1 8 edges at (70.55, 18.6, 3) (79.55, 21.1, 3) (70.55, 42.6, 3) (79.55, 45.1, 3) (70.55, 47.6, 3) (61.55, 45.1, 3) (70.55, 23.6, 3) (61.55, 21.1, 3)
